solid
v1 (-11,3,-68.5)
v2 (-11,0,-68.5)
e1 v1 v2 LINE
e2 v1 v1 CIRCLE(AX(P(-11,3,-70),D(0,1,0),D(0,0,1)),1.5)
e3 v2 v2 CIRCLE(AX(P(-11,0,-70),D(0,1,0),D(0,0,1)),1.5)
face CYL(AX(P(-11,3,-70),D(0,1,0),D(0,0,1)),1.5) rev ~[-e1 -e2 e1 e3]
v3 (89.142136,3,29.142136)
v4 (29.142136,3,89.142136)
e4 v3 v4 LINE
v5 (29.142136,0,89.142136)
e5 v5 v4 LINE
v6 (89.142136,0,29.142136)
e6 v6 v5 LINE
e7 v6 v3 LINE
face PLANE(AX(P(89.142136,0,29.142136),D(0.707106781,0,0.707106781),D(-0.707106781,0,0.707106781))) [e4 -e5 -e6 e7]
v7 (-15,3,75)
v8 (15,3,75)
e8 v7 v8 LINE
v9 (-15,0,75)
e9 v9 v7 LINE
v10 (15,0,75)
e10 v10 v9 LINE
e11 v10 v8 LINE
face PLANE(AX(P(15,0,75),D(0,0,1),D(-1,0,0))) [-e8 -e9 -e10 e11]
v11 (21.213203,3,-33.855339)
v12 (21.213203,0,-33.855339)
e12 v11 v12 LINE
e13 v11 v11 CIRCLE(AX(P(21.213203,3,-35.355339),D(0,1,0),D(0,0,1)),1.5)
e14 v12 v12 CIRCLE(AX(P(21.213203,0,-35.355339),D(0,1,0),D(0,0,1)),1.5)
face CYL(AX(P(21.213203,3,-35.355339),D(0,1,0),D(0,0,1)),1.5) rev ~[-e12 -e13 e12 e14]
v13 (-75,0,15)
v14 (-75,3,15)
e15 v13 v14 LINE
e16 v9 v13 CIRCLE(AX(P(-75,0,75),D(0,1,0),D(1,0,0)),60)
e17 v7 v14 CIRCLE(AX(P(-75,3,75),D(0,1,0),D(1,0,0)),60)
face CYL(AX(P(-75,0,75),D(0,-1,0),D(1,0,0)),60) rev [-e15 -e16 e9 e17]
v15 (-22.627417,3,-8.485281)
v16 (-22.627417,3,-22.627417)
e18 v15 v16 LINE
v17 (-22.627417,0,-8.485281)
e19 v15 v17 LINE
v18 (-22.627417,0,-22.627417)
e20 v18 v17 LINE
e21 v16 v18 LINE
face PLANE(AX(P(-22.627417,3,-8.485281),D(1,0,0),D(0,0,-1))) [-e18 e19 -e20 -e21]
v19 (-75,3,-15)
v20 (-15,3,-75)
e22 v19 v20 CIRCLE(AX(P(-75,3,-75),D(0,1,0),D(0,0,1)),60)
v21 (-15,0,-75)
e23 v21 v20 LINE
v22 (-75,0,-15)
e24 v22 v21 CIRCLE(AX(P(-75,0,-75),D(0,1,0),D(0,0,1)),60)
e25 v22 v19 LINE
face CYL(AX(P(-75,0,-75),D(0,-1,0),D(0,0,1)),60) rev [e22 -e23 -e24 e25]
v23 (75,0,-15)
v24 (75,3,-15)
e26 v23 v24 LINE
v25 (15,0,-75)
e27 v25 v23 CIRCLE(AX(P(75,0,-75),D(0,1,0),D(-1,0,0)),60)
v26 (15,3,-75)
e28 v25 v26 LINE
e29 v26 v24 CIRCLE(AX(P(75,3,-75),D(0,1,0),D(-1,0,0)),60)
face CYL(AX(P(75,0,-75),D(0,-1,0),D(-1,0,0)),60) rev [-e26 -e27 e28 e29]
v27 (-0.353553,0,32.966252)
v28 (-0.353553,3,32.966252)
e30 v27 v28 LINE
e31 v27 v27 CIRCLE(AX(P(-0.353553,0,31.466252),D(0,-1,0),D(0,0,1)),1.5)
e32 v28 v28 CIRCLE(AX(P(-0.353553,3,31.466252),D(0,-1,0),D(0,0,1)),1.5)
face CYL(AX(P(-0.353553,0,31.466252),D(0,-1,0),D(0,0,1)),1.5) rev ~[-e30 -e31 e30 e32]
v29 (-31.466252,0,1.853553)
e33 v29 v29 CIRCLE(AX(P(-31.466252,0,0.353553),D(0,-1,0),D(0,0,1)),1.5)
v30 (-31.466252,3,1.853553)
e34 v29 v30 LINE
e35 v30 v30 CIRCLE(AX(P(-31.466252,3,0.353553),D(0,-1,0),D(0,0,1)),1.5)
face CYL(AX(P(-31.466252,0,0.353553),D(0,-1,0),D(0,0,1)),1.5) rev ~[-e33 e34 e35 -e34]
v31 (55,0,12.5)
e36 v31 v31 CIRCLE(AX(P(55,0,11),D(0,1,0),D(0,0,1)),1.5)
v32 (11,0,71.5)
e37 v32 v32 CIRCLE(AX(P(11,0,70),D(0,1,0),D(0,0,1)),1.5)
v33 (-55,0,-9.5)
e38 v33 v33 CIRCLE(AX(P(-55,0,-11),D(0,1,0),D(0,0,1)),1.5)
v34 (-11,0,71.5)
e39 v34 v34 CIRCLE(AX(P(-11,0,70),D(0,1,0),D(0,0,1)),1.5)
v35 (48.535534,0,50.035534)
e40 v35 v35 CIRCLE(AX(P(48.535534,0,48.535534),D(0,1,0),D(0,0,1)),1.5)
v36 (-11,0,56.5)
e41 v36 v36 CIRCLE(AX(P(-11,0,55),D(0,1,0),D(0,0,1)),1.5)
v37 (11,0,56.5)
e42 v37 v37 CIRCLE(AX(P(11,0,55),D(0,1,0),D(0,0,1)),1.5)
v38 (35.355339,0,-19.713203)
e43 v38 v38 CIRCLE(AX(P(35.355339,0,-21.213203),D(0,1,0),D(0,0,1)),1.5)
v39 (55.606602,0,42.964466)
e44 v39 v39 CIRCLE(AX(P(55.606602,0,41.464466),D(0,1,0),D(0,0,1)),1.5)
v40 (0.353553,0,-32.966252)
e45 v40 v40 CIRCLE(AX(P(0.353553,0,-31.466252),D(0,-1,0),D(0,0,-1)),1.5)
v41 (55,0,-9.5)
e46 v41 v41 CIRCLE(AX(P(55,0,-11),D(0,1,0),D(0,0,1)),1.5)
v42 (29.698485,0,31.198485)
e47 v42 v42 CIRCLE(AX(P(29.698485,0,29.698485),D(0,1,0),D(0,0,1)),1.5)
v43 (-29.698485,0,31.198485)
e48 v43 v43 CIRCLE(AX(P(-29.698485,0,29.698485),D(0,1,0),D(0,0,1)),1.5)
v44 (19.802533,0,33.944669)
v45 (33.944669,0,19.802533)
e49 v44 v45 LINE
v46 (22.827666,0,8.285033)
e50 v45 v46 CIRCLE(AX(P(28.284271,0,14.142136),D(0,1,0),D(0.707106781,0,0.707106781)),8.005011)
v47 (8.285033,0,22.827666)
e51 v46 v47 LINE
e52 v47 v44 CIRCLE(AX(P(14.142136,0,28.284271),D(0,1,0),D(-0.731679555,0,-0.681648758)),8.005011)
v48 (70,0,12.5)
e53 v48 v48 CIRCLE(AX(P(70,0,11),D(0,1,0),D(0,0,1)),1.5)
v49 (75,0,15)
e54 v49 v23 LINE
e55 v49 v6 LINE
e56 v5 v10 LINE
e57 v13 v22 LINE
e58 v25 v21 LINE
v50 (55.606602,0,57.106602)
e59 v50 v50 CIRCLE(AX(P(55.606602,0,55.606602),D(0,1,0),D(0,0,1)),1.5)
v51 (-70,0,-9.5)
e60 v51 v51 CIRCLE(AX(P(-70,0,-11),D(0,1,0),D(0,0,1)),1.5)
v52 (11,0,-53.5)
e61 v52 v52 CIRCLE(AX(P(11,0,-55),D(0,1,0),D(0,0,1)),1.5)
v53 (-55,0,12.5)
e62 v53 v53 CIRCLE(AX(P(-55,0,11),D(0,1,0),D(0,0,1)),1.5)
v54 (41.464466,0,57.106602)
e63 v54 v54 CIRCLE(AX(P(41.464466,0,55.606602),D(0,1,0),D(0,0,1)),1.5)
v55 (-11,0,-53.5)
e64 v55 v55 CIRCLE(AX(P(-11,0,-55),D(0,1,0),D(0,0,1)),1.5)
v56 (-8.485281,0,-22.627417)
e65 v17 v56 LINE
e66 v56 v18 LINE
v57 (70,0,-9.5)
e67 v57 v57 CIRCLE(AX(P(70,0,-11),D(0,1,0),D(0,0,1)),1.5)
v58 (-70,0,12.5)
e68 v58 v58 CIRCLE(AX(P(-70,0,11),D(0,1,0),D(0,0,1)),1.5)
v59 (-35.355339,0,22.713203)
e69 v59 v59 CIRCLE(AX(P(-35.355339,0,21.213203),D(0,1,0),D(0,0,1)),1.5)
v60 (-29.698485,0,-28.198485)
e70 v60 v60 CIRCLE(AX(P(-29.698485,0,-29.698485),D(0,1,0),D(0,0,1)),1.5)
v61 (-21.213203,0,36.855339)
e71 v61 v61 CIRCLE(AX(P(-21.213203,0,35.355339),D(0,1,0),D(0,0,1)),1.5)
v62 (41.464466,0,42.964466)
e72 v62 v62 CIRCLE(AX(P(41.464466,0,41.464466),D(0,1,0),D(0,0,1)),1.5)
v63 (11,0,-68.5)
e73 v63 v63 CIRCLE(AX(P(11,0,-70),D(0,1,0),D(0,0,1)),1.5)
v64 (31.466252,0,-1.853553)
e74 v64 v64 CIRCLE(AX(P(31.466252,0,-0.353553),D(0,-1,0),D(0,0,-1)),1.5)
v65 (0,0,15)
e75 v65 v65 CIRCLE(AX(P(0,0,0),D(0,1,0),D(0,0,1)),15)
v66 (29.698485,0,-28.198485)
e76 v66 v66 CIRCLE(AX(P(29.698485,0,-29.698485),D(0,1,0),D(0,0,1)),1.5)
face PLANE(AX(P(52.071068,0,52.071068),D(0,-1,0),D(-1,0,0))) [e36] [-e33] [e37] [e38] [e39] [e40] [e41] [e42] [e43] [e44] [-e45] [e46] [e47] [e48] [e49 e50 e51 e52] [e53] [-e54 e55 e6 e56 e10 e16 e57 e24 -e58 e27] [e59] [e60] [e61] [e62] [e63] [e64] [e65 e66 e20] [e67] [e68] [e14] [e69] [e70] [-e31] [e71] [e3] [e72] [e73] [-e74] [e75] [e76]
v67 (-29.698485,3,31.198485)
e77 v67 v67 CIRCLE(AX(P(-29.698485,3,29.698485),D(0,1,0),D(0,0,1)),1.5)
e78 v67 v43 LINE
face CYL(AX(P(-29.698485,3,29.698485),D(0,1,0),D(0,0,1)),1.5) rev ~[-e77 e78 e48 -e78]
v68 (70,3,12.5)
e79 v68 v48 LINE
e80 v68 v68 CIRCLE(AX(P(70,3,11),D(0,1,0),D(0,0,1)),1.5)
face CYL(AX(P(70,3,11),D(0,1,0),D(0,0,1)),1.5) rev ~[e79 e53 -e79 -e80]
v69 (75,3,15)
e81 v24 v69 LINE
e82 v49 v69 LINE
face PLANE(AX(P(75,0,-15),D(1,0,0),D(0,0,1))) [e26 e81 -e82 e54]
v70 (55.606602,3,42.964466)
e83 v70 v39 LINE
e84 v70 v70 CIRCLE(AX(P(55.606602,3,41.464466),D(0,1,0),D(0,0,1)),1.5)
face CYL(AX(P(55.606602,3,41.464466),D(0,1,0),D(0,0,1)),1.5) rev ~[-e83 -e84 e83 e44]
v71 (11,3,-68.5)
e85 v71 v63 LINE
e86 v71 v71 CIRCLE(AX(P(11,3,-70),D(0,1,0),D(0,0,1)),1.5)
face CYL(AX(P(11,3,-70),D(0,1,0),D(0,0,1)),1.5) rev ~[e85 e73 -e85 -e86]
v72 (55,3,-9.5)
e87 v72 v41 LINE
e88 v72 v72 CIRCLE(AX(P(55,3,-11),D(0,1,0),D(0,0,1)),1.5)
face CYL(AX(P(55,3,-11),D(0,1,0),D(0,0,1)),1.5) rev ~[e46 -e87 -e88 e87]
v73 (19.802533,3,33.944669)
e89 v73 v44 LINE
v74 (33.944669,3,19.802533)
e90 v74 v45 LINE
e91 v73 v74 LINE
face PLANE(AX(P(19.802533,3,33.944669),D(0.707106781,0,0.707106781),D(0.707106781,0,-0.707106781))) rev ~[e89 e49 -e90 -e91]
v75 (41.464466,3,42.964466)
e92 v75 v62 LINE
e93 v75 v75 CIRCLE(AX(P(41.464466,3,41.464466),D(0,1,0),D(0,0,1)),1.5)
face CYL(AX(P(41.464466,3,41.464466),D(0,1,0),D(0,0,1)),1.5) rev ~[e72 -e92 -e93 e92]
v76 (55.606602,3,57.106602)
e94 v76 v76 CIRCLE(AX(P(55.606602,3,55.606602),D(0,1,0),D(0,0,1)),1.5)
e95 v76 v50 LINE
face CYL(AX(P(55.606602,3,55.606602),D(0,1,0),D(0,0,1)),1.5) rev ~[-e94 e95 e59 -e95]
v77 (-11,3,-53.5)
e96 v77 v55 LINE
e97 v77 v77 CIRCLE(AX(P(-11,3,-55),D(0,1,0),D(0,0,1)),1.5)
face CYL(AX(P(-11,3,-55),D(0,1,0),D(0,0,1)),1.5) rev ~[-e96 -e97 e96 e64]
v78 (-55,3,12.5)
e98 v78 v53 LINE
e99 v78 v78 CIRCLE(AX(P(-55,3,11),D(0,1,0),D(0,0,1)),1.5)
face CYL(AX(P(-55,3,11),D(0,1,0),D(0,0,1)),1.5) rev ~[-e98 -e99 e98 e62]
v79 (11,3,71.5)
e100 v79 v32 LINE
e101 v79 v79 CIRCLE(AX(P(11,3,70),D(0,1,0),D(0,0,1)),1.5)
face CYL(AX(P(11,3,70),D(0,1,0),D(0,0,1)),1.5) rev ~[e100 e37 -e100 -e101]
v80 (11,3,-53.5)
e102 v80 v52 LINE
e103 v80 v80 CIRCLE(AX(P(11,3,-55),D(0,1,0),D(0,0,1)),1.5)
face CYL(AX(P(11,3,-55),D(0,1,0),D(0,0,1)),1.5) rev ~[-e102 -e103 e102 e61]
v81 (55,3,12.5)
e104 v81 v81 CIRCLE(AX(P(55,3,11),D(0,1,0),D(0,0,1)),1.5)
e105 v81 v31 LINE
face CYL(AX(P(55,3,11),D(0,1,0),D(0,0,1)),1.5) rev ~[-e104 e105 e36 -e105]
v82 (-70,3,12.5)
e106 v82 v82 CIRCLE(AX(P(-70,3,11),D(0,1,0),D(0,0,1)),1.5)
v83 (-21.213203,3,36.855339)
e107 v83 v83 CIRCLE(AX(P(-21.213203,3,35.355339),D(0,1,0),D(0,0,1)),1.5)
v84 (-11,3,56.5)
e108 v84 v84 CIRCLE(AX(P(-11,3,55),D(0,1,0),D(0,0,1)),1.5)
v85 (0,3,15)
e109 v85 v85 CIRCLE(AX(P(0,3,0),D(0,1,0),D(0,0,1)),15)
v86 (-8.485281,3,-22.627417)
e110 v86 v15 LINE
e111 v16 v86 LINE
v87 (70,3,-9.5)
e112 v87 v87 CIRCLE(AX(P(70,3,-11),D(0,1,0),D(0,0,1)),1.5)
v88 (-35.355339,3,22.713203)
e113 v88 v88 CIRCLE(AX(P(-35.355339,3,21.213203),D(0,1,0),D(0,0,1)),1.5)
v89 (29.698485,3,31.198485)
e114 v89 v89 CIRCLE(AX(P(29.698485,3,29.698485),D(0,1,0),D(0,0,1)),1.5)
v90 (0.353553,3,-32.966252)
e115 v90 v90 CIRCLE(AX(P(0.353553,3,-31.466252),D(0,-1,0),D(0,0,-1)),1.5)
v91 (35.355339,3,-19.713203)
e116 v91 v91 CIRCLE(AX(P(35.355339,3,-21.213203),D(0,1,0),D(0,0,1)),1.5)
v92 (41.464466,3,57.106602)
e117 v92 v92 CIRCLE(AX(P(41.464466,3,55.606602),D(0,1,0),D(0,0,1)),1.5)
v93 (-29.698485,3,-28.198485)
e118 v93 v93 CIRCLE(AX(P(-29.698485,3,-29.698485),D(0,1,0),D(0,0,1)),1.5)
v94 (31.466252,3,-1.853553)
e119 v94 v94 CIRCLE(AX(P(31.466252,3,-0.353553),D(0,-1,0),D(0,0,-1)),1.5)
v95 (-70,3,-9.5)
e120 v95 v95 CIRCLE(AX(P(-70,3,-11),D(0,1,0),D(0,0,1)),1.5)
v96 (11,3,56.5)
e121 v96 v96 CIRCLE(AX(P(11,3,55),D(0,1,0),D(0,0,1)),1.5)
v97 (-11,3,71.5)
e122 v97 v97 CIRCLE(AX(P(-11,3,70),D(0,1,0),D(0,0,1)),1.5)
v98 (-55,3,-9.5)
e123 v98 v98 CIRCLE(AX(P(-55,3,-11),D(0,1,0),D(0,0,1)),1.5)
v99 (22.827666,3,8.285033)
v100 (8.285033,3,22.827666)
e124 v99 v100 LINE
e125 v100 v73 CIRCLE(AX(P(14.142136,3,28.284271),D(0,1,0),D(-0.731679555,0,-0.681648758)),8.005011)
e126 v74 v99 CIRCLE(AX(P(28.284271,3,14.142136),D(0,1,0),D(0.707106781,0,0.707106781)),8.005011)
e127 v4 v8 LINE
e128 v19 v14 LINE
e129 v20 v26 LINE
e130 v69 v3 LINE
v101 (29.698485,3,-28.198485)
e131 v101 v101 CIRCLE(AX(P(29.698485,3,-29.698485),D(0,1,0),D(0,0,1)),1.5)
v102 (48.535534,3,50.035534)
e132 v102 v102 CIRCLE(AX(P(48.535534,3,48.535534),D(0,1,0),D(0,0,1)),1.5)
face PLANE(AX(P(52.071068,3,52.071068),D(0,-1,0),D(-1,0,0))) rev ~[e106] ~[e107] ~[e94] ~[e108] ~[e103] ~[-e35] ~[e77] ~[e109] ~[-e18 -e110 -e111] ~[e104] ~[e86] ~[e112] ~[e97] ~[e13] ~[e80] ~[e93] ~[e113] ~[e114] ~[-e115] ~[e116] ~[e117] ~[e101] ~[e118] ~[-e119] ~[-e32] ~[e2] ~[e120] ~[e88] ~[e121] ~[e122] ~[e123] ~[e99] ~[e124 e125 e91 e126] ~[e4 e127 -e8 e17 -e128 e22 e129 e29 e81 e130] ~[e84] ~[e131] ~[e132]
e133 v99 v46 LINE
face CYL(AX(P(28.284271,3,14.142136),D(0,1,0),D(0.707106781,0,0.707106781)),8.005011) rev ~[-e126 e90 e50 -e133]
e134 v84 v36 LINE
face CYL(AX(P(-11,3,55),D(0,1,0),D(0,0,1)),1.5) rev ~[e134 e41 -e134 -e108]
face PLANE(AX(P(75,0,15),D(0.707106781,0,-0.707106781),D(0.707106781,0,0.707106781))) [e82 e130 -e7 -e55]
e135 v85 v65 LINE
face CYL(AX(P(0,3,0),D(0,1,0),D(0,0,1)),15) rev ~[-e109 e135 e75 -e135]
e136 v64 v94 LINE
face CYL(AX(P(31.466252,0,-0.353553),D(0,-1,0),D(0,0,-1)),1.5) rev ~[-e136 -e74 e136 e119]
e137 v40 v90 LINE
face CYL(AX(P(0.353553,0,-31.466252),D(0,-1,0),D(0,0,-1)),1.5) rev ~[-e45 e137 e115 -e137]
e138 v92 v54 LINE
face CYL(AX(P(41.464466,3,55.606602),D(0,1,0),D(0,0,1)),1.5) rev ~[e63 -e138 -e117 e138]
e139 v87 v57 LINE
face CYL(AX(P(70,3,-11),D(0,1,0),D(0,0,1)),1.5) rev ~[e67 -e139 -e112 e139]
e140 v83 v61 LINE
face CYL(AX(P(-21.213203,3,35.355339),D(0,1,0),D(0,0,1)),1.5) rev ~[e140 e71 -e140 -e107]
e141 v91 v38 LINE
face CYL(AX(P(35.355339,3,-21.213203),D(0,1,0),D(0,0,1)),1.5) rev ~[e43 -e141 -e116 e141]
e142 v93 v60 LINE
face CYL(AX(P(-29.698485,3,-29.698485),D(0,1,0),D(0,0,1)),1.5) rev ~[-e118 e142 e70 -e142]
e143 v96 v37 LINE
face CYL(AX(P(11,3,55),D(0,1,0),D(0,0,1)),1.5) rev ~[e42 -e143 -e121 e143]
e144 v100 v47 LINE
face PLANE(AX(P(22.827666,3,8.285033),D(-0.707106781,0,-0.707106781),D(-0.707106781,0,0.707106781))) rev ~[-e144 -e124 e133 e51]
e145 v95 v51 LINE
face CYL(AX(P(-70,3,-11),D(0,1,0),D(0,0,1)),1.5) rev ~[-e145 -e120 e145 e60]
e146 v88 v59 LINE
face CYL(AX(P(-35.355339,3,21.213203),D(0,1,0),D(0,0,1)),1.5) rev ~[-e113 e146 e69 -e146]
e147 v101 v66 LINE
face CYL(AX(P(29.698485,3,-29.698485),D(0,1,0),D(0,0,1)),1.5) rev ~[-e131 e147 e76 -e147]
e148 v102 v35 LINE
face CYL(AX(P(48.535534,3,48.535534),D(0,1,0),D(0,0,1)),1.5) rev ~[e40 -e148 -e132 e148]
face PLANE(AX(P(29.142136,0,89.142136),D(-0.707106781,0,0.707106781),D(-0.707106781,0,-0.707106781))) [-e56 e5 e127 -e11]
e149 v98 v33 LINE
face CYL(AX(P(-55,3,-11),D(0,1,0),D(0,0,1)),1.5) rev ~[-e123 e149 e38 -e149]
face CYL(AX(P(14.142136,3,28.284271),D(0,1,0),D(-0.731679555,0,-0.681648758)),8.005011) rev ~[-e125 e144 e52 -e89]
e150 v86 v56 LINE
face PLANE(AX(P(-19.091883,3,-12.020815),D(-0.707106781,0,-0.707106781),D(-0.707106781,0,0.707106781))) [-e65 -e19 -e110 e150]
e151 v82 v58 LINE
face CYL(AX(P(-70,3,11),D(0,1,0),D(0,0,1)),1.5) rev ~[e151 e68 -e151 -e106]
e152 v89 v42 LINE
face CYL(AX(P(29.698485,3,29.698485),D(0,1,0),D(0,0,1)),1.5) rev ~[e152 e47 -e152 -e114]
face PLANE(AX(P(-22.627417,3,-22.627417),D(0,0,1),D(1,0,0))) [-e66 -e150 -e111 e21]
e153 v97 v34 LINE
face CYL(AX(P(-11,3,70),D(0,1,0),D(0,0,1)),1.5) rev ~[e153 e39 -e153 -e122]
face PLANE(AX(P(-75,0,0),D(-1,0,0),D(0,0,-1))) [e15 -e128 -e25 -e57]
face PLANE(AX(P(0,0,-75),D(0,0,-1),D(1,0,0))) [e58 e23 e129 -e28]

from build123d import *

# Parameters (mm, degrees)
SKETCH_1_R           = 1.25
EXTRUDE_1_DEPTH      = 3
SKETCH_2_R           = 1.5
CUT_EXTRUDE_1_DEPTH  = 3
CUT_EXTRUDE_2_DEPTH  = 3
CUT_EXTRUDE_3_DEPTH  = 3
CUT_EXTRUDE_4_DEPTH  = 10
SKETCH_6_R           = 1.5
CUT_EXTRUDE_5_DEPTH  = 10
SKETCH_7_R           = 1.5
CUT_EXTRUDE_8_DEPTH  = 10
SKETCH_8_R           = 1.5
CUT_EXTRUDE_9_DEPTH  = 10
SKETCH_9_R           = 15
CUT_EXTRUDE_10_DEPTH = 10
EXTRUDE_START        = -3
EXTRUDE_2_DEPTH      = 3
SKETCH_11_R          = 1.5
CUT_EXTRUDE_11_DEPTH = 3
SKETCH_12_R          = 1.5
CUT_EXTRUDE_12_DEPTH = 3


with BuildPart() as part:
    # 草图1 → 凸台-拉伸1 (new body)
    # profile 1 of 4: a face of its own
    with BuildSketch(Plane(origin=(0, 0, 0), x_dir=(1, 0, 0), z_dir=(0, 1, 0))):
        with BuildLine():
            ThreePointArc((75, -15), (32.573593129, -32.573593129), (15, -75))
            Line((15, -75), (0, -75))
            Line((0, -75), (0, 0))
            Line((0, 0), (75, 0))
            Line((75, 0), (75, -15))
        make_face()
        with Locations(Location((11, -70, 0), (0, 0, 270))):
            Circle(SKETCH_1_R, mode=Mode.SUBTRACT)
        with Locations(Location((70, -11, 0), (0, 0, 270))):
            Circle(SKETCH_1_R, mode=Mode.SUBTRACT)
    # profile 2 of 4: a face of its own
    with BuildSketch(Plane(origin=(0, 0, 0), x_dir=(1, 0, 0), z_dir=(0, 1, 0))):
        with BuildLine():
            ThreePointArc((-15, -75), (-32.573593129, -32.573593129), (-75, -15))
            Line((-75, -15), (-75, 0))
            Line((-75, 0), (0, 0))
            Line((0, 0), (0, -75))
            Line((0, -75), (-15, -75))
        make_face()
        with Locations(Location((-70, -11, 0), (0, 0, 270))):
            Circle(SKETCH_1_R, mode=Mode.SUBTRACT)
        with Locations(Location((-11, -70, 0), (0, 0, 270))):
            Circle(SKETCH_1_R, mode=Mode.SUBTRACT)
    # profile 3 of 4: a face of its own
    with BuildSketch(Plane(origin=(0, 0, 0), x_dir=(1, 0, 0), z_dir=(0, 1, 0))):
        with BuildLine():
            ThreePointArc((-75, 15), (-32.573593129, 32.573593129), (-15, 75))
            Line((-15, 75), (0, 75))
            Line((0, 75), (0, 0))
            Line((0, 0), (-75, 0))
            Line((-75, 0), (-75, 15))
        make_face()
        with Locations(Location((-11, 70, 0), (0, 0, 270))):
            Circle(SKETCH_1_R, mode=Mode.SUBTRACT)
        with Locations(Location((-70, 11, 0), (0, 0, 270))):
            Circle(SKETCH_1_R, mode=Mode.SUBTRACT)
    # profile 4 of 4: a face of its own
    with BuildSketch(Plane(origin=(0, 0, 0), x_dir=(1, 0, 0), z_dir=(0, 1, 0))):
        with BuildLine():
            ThreePointArc((15, 75), (32.573593129, 32.573593129), (75, 15))
            Line((75, 15), (75, 0))
            Line((75, 0), (0, 0))
            Line((0, 0), (0, 75))
            Line((0, 75), (15, 75))
        make_face()
        with Locations(Location((70, 11, 0), (0, 0, 270))):
            Circle(SKETCH_1_R, mode=Mode.SUBTRACT)
        with Locations(Location((11, 70, 0), (0, 0, 270))):
            Circle(SKETCH_1_R, mode=Mode.SUBTRACT)
    extrude(amount=EXTRUDE_1_DEPTH)

    # 草图2 → 切除-拉伸1 (cut)
    with BuildSketch(Plane.XZ):
        with Locations(Location((0.353553391, -31.466251763, 0), (0, 0, 270))):
            Circle(SKETCH_2_R)
        with Locations(Location((31.466251763, -0.353553391, 0), (0, 0, 270))):
            Circle(SKETCH_2_R)
        with Locations(Location((-0.353553391, 31.466251763, 0), (0, 0, 90))):
            Circle(SKETCH_2_R)
        with Locations(Location((-31.466251763, 0.353553391, 0), (0, 0, 90))):
            Circle(SKETCH_2_R)
    extrude(amount=-CUT_EXTRUDE_1_DEPTH, mode=Mode.SUBTRACT)

    # 草图3 → 切除-拉伸2 (cut)
    with BuildSketch(Plane(origin=(0, 3, 0), x_dir=(1, 0, 0), z_dir=(0, 1, 0))):
        Polygon((-15.556349186, 15.556349186), (-12.02081528, 19.091883092), (-22.627416998, 22.627416998), align=None)
        Polygon((-19.091883092, 12.02081528), (-15.556349186, 15.556349186), (-22.627416998, 22.627416998), align=None)
    extrude(amount=-CUT_EXTRUDE_2_DEPTH, mode=Mode.SUBTRACT)

    # 草图4 → 切除-拉伸3 (cut)
    with BuildSketch(Plane(origin=(0, 3, 0), x_dir=(1, 0, 0), z_dir=(0, 1, 0))):
        with BuildLine():
            ThreePointArc((33.944668714, -19.80253309), (34.043922781, -8.582763971), (22.827665534, -8.285032838))
            Line((22.827665534, -8.285032838), (15.556349186, -15.556349186))
            Line((15.556349186, -15.556349186), (8.285032838, -22.827665534))
            ThreePointArc((8.285032838, -22.827665534), (8.582763971, -34.043922781), (19.80253309, -33.944668714))
            Line((19.80253309, -33.944668714), (33.944668714, -19.80253309))
        make_face()
    extrude(amount=-CUT_EXTRUDE_3_DEPTH, mode=Mode.SUBTRACT)

    # 草图5 → 切除-拉伸4 (cut)
    with BuildSketch(Plane(origin=(0, 3, 0), x_dir=(1, 0, 0), z_dir=(0, 1, 0))):
        Polygon((-22.627416998, 8.485281374), (-22.627416998, 22.627416998), (-19.091883092, 12.02081528), align=None)
        Polygon((-12.02081528, 19.091883092), (-22.627416998, 22.627416998), (-8.485281374, 22.627416998), align=None)
    extrude(amount=-CUT_EXTRUDE_4_DEPTH, mode=Mode.SUBTRACT)

    # 草图6 → 切除-拉伸5 (cut)
    with BuildSketch(Plane(origin=(0, 3, 0), x_dir=(1, 0, 0), z_dir=(0, 1, 0))):
        with Locations(Location((-35.355339059, -21.213203436, 0), (0, 0, 270))):
            Circle(SKETCH_6_R)
        with Locations(Location((-21.213203436, -35.355339059, 0), (0, 0, 270))):
            Circle(SKETCH_6_R)
        with Locations(Location((35.355339059, 21.213203436, 0), (0, 0, 270))):
            Circle(SKETCH_6_R)
        with Locations(Location((21.213203436, 35.355339059, 0), (0, 0, 270))):
            Circle(SKETCH_6_R)
    extrude(amount=-CUT_EXTRUDE_5_DEPTH, mode=Mode.SUBTRACT)

    # 草图7 → 切除-拉伸8 (cut)
    with BuildSketch(Plane(origin=(0, 3, 0), x_dir=(1, 0, 0), z_dir=(0, 1, 0))):
        with Locations(Location((-29.69848481, 29.69848481, 0), (0, 0, 270))):
            Circle(SKETCH_7_R)
        with Locations(Location((29.69848481, 29.69848481, 0), (0, 0, 270))):
            Circle(SKETCH_7_R)
        with Locations(Location((29.69848481, -29.69848481, 0), (0, 0, 270))):
            Circle(SKETCH_7_R)
        with Locations(Location((-29.69848481, -29.69848481, 0), (0, 0, 270))):
            Circle(SKETCH_7_R)
    extrude(amount=-CUT_EXTRUDE_8_DEPTH, mode=Mode.SUBTRACT)

    # 草图8 → 切除-拉伸9 (cut)
    with BuildSketch(Plane(origin=(0, 3, 0), x_dir=(1, 0, 0), z_dir=(0, 1, 0))):
        with Locations(Location((-11, 55, 0), (0, 0, 270))):
            Circle(SKETCH_8_R)
        with Locations(Location((11, 55, 0), (0, 0, 270))):
            Circle(SKETCH_8_R)
        with Locations(Location((55, 11, 0), (0, 0, 270))):
            Circle(SKETCH_8_R)
        with Locations(Location((55, -11, 0), (0, 0, 270))):
            Circle(SKETCH_8_R)
        with Locations(Location((11, -55, 0), (0, 0, 270))):
            Circle(SKETCH_8_R)
        with Locations(Location((-11, -55, 0), (0, 0, 270))):
            Circle(SKETCH_8_R)
        with Locations(Location((-55, -11, 0), (0, 0, 270))):
            Circle(SKETCH_8_R)
        with Locations(Location((-55, 11, 0), (0, 0, 270))):
            Circle(SKETCH_8_R)
    extrude(amount=-CUT_EXTRUDE_9_DEPTH, mode=Mode.SUBTRACT)

    # 草图9 → 切除-拉伸10 (cut)
    with BuildSketch(Plane(origin=(0, 3, 0), x_dir=(1, 0, 0), z_dir=(0, 1, 0))):
        with Locations(Location((0, 0, 0), (0, 0, 270))):
            Circle(SKETCH_9_R)
    extrude(amount=-CUT_EXTRUDE_10_DEPTH, mode=Mode.SUBTRACT)

    # 草图10 → 凸台-拉伸2 (add)
    with BuildSketch(Plane(origin=(0, 3, 0), x_dir=(1, 0, 0), z_dir=(0, 1, 0)).offset(EXTRUDE_START)):
        Polygon((89.142135624, -29.142135624), (29.142135624, -89.142135624), (15, -75), (75, -15), align=None)
        with BuildLine():
            Line((75, -15), (15, -75))
            ThreePointArc((15, -75), (32.573593129, -32.573593129), (75, -15))
        make_face()
    extrude(amount=EXTRUDE_2_DEPTH)

    # 草图11 → 切除-拉伸11 (cut)
    with BuildSketch(Plane(origin=(0, 3, 0), x_dir=(1, 0, 0), z_dir=(0, 1, 0))):
        with Locations(Location((11, 70, 0), (0, 0, 270))):
            Circle(SKETCH_11_R)
        with Locations(Location((-11, 70, 0), (0, 0, 270))):
            Circle(SKETCH_11_R)
        with Locations(Location((70, 11, 0), (0, 0, 270))):
            Circle(SKETCH_11_R)
        with Locations(Location((70, -11, 0), (0, 0, 270))):
            Circle(SKETCH_11_R)
        with Locations(Location((11, -70, 0), (0, 0, 270))):
            Circle(SKETCH_11_R)
        with Locations(Location((-11, -70, 0), (0, 0, 270))):
            Circle(SKETCH_11_R)
        with Locations(Location((-70, -11, 0), (0, 0, 270))):
            Circle(SKETCH_11_R)
        with Locations(Location((-70, 11, 0), (0, 0, 270))):
            Circle(SKETCH_11_R)
    extrude(amount=-CUT_EXTRUDE_11_DEPTH, mode=Mode.SUBTRACT)

    # 草图12 → 切除-拉伸12 (cut)
    with BuildSketch(Plane(origin=(0, 3, 0), x_dir=(1, 0, 0), z_dir=(0, 1, 0))):
        with Locations(Location((48.535533906, -48.535533906, 0), (0, 0, 270))):
            Circle(SKETCH_12_R)
        with Locations(Location((55.606601718, -41.464466094, 0), (0, 0, 270))):
            Circle(SKETCH_12_R)
        with Locations(Location((55.606601718, -55.606601718, 0), (0, 0, 270))):
            Circle(SKETCH_12_R)
        with Locations(Location((41.464466094, -55.606601718, 0), (0, 0, 270))):
            Circle(SKETCH_12_R)
        with Locations(Location((41.464466094, -41.464466094, 0), (0, 0, 270))):
            Circle(SKETCH_12_R)
    extrude(amount=-CUT_EXTRUDE_12_DEPTH, mode=Mode.SUBTRACT)


solid = part.part
